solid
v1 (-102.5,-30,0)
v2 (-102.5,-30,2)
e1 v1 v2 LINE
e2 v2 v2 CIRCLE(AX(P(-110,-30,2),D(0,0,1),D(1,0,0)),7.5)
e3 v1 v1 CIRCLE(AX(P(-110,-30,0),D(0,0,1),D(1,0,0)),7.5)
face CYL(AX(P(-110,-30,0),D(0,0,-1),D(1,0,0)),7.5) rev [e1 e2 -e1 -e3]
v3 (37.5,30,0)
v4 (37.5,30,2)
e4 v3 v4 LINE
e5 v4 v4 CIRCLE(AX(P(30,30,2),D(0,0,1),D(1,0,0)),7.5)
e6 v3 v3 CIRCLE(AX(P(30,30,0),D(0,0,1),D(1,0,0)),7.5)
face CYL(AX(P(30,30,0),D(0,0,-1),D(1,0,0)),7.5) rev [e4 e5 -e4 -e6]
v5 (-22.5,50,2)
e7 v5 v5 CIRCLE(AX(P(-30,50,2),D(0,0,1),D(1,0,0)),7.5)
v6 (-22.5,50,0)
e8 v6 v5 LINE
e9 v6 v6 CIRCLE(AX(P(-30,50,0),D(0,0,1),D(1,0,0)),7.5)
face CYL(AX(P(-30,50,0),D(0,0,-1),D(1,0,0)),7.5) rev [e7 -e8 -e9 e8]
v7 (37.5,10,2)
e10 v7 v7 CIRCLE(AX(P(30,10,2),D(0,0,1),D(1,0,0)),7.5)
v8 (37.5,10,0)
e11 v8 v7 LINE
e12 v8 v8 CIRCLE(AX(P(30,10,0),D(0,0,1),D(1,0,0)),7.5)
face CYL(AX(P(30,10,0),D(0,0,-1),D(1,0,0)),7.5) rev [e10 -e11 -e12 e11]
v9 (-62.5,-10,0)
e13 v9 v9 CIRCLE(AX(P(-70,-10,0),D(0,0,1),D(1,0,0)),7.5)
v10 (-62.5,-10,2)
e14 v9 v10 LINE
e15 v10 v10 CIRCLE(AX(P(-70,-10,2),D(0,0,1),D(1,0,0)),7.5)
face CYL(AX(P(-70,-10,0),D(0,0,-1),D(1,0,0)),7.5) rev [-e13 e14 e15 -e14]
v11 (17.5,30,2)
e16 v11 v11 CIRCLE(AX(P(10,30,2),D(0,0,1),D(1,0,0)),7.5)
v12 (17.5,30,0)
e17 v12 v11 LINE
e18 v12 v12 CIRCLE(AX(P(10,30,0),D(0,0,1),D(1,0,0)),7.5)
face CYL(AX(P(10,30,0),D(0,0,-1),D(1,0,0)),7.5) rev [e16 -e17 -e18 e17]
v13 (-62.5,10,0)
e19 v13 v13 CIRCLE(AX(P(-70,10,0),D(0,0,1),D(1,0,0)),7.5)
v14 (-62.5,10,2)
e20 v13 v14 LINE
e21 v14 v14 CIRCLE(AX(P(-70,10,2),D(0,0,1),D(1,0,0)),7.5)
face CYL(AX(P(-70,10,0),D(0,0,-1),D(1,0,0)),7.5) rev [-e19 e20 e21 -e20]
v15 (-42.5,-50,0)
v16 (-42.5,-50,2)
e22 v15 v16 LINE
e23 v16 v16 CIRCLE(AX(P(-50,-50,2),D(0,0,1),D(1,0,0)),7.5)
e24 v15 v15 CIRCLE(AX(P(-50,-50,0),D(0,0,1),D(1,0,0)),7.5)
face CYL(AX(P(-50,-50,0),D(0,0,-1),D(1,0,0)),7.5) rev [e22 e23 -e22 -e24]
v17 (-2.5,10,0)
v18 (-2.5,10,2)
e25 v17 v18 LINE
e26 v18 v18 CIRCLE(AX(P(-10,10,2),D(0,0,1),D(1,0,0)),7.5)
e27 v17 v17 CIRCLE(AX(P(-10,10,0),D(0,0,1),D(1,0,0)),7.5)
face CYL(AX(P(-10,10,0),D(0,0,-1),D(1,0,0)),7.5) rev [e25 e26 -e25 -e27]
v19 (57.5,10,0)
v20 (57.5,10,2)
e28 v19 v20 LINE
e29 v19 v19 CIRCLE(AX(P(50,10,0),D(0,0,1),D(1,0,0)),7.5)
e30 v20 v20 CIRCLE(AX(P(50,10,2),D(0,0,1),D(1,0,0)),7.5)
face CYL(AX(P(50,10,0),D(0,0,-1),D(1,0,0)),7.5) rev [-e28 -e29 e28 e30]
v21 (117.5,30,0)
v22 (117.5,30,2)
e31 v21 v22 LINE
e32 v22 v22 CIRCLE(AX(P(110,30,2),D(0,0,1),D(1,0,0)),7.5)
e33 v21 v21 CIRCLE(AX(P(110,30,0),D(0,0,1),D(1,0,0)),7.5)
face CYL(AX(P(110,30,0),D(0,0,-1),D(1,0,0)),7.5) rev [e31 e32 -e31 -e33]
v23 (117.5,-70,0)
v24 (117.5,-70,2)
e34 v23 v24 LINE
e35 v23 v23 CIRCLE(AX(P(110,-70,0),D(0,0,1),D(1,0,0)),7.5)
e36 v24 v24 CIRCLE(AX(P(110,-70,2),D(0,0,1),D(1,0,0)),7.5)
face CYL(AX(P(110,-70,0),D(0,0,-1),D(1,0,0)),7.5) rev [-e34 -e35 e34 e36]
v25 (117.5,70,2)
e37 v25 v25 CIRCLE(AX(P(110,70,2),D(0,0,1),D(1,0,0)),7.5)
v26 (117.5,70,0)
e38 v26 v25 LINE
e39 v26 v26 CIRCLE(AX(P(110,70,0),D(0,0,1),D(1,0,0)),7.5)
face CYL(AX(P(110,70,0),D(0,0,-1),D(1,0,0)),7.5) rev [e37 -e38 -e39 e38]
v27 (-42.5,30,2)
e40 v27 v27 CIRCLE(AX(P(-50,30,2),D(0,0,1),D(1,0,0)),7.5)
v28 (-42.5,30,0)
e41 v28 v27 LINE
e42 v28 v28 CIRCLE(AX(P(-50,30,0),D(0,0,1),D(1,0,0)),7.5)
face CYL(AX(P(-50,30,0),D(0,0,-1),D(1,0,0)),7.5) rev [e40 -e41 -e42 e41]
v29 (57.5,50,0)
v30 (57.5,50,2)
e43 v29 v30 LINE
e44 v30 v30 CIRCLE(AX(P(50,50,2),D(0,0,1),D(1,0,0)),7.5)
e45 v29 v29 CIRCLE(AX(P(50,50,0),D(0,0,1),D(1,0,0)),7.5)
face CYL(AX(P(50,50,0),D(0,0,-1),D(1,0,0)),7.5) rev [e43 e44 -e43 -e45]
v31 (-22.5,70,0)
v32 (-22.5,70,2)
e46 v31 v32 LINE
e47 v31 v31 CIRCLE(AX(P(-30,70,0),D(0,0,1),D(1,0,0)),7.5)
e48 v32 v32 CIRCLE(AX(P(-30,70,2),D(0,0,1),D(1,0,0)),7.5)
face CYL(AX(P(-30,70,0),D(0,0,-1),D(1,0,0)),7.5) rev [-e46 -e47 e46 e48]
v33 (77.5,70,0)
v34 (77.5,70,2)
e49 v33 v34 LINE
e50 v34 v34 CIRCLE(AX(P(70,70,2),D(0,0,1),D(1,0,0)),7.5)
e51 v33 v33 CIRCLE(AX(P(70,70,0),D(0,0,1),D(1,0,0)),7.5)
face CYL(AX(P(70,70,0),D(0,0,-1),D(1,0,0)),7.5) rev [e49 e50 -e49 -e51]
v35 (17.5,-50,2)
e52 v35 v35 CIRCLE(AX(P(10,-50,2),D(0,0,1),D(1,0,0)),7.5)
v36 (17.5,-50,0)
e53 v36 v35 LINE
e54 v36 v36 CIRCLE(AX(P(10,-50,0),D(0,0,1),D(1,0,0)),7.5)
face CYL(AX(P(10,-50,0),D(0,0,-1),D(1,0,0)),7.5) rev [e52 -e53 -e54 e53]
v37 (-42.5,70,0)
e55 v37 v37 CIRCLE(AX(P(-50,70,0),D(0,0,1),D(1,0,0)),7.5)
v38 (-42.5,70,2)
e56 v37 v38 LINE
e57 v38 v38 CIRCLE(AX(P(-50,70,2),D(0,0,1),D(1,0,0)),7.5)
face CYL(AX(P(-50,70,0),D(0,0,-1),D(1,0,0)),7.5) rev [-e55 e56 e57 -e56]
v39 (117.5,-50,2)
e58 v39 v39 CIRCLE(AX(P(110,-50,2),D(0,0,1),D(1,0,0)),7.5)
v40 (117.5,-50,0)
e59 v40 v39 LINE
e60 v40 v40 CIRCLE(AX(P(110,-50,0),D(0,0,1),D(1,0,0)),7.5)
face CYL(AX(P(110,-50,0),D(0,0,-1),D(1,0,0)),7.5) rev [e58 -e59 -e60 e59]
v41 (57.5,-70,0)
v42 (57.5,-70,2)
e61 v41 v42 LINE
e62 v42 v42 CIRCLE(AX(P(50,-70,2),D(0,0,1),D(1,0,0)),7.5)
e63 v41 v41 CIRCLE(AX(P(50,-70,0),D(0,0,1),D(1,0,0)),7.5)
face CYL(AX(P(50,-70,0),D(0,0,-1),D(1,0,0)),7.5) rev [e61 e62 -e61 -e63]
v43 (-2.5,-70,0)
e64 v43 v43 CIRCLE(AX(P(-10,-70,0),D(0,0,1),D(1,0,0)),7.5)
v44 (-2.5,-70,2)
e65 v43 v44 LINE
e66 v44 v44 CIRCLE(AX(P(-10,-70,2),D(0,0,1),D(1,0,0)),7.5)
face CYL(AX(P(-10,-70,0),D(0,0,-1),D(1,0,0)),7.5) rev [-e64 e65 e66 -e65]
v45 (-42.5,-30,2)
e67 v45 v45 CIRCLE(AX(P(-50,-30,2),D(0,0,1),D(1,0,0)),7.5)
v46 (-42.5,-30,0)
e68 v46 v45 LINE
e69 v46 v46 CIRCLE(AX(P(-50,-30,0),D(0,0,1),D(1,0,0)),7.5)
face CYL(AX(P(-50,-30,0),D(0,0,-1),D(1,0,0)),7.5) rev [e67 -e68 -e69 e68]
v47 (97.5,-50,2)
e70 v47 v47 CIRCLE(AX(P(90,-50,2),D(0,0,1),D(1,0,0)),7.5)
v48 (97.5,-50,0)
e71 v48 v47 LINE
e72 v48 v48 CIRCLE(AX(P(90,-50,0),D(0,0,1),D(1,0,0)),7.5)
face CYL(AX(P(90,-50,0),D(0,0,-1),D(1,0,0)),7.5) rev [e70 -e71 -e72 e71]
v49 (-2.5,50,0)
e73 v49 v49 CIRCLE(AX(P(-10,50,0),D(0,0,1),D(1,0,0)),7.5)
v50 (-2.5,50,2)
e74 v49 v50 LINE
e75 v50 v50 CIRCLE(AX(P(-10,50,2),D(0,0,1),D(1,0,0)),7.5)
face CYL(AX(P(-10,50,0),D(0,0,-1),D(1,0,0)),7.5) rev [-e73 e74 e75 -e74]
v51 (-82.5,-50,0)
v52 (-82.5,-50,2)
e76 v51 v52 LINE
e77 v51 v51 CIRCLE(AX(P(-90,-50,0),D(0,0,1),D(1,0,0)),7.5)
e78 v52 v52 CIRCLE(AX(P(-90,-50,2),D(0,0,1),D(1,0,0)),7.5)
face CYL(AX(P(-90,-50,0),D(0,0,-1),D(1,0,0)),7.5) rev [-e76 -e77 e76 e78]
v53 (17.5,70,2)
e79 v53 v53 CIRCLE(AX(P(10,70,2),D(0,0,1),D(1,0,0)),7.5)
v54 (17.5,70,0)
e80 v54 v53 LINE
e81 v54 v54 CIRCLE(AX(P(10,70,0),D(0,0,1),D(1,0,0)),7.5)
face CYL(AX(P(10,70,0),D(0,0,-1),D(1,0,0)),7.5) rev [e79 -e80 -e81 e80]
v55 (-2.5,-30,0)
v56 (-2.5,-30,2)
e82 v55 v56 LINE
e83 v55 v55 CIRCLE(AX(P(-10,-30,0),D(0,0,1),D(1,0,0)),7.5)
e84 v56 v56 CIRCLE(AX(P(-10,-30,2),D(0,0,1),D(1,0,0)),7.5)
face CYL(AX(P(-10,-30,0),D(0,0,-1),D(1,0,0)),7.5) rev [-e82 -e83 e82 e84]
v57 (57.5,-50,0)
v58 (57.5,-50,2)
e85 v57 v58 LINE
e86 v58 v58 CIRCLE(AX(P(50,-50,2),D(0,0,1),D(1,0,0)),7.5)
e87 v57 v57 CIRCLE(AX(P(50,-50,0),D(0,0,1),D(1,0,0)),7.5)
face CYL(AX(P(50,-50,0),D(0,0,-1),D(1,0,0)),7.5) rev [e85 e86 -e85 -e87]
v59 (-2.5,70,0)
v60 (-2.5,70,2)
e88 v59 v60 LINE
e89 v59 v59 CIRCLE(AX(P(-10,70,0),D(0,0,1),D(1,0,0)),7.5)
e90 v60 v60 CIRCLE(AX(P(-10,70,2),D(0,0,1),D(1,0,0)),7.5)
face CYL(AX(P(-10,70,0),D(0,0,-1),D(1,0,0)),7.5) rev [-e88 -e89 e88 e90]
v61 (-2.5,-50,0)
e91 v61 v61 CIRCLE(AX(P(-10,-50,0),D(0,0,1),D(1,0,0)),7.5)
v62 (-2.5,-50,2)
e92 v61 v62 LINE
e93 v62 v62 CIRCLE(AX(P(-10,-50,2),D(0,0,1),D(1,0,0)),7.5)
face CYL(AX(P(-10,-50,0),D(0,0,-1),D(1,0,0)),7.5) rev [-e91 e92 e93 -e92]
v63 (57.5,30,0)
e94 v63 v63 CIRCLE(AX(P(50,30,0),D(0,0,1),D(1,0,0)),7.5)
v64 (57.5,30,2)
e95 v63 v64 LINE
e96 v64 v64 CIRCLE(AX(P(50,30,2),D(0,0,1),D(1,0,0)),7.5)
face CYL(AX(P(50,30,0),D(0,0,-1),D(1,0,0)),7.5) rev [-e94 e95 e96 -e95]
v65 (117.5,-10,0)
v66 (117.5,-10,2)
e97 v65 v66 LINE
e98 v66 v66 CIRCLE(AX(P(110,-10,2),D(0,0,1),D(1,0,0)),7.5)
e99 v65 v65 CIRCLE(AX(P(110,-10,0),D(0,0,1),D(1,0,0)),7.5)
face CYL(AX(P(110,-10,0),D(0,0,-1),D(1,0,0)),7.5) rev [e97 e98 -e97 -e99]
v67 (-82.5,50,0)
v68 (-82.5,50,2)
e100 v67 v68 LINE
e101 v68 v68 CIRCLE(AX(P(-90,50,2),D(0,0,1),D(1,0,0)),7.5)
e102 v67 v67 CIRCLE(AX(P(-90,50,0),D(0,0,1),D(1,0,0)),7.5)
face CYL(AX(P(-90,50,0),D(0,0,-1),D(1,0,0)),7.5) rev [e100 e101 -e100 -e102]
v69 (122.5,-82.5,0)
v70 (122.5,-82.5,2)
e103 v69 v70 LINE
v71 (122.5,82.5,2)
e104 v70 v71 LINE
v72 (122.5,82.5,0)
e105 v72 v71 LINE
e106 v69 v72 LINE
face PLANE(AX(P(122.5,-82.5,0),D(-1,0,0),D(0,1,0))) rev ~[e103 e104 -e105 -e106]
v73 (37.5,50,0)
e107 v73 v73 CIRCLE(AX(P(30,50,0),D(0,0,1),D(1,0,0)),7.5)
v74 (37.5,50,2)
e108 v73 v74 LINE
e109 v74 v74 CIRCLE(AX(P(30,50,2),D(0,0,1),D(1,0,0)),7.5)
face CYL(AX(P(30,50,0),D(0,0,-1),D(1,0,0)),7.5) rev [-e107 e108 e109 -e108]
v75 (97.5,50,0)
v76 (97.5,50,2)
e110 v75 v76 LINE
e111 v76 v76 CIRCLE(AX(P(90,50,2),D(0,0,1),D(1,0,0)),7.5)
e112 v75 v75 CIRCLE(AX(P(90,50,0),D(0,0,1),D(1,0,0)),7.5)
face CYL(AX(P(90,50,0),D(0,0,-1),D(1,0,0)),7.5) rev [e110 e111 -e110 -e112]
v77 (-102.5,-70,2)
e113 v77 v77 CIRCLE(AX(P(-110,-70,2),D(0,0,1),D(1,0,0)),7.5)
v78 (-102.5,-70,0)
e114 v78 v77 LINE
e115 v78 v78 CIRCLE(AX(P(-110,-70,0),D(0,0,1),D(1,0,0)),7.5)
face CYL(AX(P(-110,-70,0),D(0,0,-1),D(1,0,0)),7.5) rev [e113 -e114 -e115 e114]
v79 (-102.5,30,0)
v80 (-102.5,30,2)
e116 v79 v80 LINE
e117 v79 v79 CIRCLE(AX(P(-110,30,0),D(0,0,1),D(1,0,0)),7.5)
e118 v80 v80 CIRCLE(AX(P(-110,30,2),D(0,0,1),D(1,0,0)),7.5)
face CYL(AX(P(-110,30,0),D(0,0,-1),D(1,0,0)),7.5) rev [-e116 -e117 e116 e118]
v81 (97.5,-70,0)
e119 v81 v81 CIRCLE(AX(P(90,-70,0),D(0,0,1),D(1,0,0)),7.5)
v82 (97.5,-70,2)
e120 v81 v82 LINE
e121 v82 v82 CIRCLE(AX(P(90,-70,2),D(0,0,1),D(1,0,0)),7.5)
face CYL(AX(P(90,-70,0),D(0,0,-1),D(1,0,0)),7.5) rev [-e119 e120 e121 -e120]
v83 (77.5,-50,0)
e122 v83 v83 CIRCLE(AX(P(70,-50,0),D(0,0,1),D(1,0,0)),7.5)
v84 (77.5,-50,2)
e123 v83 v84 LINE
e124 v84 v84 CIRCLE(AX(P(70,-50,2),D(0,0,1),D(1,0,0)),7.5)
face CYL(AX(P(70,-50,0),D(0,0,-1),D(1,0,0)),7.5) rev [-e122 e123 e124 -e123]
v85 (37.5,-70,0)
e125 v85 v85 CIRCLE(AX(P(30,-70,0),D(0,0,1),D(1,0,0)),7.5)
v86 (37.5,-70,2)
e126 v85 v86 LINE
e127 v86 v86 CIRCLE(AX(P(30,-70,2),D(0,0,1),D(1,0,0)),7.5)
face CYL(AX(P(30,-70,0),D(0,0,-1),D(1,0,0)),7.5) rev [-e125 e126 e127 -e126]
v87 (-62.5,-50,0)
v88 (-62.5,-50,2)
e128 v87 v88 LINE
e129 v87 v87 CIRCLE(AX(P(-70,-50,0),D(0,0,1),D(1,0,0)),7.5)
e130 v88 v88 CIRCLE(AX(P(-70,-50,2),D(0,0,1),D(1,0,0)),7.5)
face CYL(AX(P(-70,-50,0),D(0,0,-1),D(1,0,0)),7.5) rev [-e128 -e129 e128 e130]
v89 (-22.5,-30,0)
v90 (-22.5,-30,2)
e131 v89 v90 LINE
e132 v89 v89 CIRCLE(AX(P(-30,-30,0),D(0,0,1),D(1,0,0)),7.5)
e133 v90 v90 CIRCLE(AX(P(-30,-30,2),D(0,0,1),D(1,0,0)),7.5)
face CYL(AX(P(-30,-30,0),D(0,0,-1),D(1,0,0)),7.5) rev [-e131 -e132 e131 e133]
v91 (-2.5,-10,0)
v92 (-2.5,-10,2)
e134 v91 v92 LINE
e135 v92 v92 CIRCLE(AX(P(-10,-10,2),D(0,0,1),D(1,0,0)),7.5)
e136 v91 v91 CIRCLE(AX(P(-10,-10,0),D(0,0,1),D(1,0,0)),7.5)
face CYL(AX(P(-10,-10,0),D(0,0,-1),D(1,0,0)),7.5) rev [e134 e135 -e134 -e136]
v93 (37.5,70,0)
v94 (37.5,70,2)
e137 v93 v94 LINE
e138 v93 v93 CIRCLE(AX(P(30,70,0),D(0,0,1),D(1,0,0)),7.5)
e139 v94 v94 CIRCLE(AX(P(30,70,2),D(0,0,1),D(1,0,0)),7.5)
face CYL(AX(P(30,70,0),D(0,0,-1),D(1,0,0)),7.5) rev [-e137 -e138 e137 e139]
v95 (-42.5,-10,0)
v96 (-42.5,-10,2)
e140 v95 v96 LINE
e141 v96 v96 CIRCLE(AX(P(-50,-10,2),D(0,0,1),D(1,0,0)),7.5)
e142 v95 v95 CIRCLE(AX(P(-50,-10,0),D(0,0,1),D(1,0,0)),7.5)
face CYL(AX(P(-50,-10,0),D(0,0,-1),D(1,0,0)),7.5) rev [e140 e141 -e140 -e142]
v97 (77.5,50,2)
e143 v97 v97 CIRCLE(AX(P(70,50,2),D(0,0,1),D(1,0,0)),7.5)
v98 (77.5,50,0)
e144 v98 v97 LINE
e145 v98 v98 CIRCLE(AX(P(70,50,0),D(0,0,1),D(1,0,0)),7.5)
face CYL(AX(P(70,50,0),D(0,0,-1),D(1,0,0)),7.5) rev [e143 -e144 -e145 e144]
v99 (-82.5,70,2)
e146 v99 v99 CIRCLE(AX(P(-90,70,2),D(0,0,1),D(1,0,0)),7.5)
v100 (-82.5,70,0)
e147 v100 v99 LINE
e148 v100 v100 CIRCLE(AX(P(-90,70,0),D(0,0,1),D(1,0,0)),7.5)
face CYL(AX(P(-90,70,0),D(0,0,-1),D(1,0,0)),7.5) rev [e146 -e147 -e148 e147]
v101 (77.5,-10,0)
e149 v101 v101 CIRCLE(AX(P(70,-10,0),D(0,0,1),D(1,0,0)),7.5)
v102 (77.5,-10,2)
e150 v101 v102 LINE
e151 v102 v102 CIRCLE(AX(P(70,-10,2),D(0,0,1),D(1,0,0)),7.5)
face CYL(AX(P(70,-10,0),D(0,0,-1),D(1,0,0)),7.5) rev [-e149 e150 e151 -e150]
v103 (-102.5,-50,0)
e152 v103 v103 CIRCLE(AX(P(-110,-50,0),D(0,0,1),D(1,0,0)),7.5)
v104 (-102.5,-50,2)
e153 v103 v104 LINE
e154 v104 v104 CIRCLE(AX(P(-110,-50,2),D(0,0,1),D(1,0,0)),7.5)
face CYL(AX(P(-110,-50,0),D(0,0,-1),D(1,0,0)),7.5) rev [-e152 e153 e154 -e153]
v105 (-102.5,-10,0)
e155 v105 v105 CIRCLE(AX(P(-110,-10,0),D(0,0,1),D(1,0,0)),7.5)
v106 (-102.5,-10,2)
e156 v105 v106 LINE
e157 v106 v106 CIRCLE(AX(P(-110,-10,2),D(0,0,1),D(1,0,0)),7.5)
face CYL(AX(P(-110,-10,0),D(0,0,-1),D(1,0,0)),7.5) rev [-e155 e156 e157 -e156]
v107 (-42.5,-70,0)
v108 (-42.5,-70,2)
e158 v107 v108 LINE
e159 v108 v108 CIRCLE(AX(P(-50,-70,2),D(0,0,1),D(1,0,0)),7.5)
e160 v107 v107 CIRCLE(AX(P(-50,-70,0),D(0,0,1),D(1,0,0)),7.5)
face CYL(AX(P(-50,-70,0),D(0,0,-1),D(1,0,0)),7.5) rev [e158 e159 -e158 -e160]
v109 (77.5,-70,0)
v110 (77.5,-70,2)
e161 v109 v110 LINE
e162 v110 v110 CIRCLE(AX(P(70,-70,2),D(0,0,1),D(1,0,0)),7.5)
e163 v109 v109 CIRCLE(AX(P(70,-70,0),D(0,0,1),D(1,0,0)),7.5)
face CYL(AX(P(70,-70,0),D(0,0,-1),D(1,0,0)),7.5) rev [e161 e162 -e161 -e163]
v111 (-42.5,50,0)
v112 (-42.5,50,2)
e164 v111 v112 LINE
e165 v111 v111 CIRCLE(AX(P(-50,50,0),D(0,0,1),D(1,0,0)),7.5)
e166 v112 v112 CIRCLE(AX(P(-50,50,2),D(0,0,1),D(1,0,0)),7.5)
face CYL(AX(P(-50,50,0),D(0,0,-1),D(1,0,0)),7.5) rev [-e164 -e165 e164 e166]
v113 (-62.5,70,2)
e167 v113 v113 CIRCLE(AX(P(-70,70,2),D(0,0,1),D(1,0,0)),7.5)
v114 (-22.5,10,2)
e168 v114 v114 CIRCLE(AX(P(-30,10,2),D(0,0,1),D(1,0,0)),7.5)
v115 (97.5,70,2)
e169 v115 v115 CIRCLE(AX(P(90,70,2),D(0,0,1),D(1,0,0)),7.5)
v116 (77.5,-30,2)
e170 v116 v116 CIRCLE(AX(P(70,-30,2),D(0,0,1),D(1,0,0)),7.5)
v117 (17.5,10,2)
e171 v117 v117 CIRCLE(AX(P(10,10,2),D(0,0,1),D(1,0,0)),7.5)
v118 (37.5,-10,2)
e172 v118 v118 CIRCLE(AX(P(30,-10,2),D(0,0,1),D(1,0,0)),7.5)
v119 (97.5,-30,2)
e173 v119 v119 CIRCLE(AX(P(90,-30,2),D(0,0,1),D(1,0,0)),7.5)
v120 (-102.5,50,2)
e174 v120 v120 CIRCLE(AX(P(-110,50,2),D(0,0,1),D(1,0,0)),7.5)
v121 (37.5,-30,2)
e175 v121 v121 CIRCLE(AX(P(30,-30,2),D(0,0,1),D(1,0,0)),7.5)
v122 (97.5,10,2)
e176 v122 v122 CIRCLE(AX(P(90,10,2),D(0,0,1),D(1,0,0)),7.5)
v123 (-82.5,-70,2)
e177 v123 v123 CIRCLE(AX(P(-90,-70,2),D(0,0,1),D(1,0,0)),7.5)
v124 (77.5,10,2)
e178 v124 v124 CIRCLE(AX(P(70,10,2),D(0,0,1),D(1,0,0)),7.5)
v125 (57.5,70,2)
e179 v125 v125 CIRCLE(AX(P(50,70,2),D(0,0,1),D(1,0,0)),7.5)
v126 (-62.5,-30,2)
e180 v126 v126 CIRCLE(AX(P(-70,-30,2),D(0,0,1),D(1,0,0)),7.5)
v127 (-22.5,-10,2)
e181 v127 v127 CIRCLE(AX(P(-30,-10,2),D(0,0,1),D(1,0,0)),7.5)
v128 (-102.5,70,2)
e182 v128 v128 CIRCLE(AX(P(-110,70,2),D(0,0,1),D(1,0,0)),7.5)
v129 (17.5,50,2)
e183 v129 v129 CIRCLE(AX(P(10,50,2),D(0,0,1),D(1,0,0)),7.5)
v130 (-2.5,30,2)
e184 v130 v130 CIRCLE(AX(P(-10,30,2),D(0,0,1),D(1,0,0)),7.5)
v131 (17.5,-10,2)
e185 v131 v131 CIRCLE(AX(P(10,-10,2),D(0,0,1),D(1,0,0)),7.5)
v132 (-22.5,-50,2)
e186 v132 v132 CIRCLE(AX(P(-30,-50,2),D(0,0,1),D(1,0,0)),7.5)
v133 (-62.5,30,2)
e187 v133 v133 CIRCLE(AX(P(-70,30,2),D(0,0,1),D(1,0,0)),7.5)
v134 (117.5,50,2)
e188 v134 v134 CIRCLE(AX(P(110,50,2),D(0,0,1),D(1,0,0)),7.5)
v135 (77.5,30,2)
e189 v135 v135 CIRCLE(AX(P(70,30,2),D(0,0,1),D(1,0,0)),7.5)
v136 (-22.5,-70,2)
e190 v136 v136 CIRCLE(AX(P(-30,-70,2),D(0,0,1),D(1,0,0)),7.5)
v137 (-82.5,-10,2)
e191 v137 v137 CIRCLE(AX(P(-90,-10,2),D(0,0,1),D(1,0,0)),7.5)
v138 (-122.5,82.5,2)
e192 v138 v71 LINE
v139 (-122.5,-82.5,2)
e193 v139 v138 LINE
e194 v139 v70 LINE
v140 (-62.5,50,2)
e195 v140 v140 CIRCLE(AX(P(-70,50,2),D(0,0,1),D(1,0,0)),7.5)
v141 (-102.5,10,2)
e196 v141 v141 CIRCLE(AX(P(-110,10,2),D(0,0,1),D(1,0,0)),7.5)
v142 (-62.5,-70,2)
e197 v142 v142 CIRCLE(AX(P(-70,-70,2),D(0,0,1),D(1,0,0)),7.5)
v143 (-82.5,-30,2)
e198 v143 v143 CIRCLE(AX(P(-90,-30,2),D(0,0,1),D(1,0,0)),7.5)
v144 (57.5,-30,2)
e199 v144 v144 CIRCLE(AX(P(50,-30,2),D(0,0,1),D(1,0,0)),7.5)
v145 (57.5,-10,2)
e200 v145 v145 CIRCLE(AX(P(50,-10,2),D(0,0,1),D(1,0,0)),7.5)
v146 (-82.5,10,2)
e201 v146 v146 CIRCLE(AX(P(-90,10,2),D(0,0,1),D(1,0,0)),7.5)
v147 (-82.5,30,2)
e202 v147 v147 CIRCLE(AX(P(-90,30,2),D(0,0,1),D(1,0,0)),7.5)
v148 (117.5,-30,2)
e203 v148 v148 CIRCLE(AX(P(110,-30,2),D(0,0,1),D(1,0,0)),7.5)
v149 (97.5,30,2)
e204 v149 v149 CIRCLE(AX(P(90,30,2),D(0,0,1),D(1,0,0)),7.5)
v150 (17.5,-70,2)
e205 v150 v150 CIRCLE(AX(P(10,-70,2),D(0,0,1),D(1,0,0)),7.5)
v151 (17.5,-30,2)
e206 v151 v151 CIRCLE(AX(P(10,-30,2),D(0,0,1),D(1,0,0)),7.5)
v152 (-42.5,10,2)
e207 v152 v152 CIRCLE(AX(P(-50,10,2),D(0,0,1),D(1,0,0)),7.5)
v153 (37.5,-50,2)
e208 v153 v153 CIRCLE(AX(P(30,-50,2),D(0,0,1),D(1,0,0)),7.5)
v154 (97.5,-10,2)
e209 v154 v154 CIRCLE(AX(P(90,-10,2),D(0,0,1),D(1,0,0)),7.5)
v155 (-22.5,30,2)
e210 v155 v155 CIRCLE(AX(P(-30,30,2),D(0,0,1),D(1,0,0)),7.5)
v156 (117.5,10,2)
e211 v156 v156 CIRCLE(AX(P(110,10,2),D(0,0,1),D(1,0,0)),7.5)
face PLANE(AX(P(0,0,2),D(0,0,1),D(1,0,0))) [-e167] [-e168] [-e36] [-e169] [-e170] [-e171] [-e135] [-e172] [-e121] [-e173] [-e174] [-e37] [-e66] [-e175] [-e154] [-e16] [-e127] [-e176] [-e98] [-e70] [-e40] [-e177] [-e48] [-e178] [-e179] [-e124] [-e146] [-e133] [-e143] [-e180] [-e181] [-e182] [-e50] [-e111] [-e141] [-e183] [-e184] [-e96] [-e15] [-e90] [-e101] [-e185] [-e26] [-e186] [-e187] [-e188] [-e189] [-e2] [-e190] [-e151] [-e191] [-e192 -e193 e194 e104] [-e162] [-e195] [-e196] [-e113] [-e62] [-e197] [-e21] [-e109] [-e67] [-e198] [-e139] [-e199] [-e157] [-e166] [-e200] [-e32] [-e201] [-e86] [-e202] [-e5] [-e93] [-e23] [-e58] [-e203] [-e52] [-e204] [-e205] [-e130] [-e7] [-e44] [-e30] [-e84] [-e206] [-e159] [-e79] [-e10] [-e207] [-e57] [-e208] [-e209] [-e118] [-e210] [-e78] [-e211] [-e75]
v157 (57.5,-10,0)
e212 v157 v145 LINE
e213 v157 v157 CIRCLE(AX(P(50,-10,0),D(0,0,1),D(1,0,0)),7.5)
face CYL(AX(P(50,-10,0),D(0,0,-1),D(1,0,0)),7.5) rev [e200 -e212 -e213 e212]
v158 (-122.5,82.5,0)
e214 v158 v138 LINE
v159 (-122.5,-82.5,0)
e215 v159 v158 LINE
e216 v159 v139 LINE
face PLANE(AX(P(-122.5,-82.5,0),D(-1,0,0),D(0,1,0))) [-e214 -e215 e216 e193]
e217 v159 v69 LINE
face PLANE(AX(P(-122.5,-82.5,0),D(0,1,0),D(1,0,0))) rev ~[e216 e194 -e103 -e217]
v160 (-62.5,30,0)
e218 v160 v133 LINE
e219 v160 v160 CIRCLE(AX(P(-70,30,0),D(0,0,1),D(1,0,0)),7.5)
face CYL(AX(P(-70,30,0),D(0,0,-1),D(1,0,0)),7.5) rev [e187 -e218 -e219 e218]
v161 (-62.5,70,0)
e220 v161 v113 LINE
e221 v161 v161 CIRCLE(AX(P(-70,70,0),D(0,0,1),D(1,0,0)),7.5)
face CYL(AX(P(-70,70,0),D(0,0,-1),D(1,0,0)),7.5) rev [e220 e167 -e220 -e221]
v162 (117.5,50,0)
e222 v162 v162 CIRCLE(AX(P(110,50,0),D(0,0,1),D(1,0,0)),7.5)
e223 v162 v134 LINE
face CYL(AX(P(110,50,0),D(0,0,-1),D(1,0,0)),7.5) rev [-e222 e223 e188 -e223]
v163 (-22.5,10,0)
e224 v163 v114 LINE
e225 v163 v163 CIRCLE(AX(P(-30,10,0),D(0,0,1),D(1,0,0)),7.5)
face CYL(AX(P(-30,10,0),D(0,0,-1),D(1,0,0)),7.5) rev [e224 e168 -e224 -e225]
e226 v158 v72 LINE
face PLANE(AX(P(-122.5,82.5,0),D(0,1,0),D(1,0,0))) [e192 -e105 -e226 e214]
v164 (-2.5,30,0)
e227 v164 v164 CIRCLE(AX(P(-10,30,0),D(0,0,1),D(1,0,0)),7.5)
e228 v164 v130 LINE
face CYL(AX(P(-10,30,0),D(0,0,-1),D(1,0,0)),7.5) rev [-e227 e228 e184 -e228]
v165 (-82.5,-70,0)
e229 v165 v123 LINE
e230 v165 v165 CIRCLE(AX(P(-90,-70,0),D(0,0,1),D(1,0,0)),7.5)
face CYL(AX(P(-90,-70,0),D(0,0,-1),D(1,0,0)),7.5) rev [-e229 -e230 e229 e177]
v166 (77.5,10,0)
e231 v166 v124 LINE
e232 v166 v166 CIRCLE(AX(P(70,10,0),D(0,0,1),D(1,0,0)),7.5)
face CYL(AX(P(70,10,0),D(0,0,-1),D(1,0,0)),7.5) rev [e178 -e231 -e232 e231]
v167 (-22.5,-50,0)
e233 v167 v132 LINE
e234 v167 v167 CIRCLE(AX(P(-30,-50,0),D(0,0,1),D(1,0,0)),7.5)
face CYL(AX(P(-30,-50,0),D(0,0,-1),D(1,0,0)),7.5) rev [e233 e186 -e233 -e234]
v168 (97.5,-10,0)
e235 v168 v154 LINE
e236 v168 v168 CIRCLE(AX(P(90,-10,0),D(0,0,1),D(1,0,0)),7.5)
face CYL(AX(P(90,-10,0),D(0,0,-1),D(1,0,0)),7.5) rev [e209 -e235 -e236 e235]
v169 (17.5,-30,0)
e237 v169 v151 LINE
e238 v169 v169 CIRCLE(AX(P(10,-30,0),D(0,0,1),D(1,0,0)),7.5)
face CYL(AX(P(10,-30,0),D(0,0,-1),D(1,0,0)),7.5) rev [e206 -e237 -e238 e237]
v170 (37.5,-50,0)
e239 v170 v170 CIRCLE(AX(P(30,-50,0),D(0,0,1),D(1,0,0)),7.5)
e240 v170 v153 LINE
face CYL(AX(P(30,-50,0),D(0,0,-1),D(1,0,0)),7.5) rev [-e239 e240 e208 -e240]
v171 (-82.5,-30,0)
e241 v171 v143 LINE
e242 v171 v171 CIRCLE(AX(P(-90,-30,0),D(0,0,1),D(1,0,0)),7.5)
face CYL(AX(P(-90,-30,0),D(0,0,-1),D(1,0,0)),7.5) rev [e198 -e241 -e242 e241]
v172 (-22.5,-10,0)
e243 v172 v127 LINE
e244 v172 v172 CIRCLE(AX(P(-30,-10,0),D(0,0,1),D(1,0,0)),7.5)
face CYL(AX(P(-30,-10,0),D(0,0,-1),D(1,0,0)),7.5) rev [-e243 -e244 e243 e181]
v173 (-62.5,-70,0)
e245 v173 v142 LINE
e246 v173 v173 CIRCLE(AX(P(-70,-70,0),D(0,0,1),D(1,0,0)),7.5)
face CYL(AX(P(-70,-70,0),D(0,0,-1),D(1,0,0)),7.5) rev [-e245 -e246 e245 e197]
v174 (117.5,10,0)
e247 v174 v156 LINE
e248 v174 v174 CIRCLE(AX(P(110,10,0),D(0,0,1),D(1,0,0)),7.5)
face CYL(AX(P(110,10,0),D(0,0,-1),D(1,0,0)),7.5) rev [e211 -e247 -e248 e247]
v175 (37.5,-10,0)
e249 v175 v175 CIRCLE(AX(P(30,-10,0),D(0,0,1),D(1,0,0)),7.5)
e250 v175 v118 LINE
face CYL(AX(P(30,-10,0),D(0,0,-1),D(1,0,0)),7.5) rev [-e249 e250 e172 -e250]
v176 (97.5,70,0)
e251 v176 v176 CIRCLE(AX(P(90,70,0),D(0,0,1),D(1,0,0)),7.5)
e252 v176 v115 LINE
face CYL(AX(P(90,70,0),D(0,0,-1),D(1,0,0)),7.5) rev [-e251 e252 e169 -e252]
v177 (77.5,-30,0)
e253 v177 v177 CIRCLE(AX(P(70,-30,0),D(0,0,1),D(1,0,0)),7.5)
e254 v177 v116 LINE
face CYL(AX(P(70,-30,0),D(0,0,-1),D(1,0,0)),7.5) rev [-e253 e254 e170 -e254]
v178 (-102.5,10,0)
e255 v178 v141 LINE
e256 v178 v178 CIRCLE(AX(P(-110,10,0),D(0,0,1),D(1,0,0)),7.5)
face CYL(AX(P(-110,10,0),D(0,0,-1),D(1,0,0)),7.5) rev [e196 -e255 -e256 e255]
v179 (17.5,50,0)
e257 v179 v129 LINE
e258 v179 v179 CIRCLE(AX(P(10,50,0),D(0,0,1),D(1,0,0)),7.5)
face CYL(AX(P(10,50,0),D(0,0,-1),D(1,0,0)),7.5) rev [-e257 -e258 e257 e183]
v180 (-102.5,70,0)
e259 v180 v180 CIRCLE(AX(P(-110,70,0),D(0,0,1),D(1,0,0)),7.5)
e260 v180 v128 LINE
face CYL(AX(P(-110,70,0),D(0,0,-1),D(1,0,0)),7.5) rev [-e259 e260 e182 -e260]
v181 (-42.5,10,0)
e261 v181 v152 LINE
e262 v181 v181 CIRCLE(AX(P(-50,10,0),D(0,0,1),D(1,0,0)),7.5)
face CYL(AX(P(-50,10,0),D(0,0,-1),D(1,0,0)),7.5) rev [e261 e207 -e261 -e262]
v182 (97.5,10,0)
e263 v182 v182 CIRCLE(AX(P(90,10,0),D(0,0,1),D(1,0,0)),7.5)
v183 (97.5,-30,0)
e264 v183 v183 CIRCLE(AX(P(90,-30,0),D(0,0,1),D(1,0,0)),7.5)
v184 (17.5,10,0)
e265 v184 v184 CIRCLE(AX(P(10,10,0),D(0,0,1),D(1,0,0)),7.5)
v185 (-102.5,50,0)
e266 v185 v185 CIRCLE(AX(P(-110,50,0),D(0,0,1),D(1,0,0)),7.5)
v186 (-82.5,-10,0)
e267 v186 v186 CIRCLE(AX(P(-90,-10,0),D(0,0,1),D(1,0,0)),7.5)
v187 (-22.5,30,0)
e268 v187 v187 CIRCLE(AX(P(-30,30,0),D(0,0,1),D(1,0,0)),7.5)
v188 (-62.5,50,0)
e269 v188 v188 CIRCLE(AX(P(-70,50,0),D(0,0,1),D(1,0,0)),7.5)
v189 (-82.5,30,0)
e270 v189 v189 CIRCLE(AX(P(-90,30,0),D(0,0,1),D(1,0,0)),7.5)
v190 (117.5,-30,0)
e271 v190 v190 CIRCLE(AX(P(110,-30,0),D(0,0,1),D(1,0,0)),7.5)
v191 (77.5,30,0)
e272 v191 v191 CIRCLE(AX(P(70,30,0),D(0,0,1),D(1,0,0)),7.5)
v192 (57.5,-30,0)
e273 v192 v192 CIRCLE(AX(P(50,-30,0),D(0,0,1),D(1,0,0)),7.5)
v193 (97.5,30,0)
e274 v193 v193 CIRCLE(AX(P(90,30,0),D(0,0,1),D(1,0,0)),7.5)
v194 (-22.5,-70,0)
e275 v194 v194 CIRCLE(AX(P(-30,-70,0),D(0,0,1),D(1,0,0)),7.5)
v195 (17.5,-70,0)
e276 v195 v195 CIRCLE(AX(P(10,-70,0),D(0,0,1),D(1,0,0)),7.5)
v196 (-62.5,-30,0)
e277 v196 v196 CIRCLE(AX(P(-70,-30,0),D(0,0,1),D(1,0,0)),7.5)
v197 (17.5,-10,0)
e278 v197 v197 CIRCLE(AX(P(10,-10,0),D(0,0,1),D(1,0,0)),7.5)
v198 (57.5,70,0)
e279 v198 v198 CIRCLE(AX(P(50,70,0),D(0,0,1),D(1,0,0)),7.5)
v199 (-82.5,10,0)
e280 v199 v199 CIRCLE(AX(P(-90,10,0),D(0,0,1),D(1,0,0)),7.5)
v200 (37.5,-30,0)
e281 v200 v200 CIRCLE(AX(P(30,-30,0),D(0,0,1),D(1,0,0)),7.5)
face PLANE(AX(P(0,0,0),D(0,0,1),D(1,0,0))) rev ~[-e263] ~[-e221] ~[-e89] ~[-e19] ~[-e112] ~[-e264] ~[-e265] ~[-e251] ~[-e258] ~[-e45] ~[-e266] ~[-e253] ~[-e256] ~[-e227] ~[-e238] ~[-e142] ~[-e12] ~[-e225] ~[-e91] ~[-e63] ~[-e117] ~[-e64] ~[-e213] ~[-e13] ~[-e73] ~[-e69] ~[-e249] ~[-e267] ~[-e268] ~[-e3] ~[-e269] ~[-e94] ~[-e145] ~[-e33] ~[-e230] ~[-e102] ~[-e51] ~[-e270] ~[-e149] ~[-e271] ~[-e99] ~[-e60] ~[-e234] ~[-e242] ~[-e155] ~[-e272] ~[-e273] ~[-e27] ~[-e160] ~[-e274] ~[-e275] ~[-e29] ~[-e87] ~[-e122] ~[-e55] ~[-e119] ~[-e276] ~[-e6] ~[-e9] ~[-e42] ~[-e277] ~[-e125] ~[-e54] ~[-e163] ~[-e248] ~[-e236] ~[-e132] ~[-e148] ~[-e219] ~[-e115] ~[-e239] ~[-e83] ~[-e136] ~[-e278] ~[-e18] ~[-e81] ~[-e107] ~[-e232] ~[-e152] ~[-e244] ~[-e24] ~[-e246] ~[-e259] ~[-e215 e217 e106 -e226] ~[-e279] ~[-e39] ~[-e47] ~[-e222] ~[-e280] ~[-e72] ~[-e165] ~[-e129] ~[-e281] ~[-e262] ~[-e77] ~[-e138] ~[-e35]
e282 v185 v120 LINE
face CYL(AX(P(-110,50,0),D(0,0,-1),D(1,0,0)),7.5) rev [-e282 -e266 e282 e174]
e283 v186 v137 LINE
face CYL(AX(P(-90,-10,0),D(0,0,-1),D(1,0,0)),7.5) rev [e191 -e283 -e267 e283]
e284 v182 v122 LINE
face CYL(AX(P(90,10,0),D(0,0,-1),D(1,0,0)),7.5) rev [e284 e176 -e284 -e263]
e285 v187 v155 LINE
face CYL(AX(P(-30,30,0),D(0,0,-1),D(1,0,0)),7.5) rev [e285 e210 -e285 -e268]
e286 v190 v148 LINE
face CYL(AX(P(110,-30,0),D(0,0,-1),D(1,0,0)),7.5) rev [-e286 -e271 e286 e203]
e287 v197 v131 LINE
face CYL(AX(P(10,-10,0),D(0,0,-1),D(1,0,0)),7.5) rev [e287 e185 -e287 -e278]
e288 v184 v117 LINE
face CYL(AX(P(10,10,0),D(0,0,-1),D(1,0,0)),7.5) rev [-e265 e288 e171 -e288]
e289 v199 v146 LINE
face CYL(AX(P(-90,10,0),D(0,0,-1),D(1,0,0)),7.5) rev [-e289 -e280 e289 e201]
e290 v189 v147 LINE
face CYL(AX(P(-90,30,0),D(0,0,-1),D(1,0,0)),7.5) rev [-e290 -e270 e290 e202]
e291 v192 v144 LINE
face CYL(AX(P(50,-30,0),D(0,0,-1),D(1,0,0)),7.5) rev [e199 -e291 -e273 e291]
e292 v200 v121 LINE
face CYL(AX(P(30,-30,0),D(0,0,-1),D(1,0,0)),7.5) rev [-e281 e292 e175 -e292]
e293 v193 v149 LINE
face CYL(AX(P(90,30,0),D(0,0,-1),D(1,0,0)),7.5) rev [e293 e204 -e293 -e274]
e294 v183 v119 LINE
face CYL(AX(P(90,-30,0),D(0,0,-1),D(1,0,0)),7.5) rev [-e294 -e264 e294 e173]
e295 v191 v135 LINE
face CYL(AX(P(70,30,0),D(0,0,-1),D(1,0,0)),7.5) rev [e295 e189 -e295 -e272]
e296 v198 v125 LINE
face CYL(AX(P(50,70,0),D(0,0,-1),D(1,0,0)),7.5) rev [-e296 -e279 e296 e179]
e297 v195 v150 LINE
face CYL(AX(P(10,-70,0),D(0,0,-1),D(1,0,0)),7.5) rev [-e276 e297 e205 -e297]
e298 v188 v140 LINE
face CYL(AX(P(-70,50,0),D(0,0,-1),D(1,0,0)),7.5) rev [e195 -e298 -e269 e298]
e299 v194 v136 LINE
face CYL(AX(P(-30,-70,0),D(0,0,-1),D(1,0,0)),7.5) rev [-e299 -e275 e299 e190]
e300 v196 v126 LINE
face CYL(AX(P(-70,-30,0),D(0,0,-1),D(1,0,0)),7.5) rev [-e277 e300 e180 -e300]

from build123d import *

# Parameters (mm, degrees)
F0_W     = 245
F0_H     = 165
F0_R     = 7.5
F1_DEPTH = 2


with BuildPart() as f1:
    # F0 (on Top) → F1 (new body)
    with BuildSketch(Plane.XY):
        Rectangle(F0_W, F0_H)
        with Locations((-110, -70)):
            Circle(F0_R, mode=Mode.SUBTRACT)
        with Locations((-90, -70)):
            Circle(F0_R, mode=Mode.SUBTRACT)
        with Locations((-70, -70)):
            Circle(F0_R, mode=Mode.SUBTRACT)
        with Locations((-110, -50)):
            Circle(F0_R, mode=Mode.SUBTRACT)
        with Locations((-90, -50)):
            Circle(F0_R, mode=Mode.SUBTRACT)
        with Locations((-70, -50)):
            Circle(F0_R, mode=Mode.SUBTRACT)
        with Locations((-50, -70)):
            Circle(F0_R, mode=Mode.SUBTRACT)
        with Locations((-30, -70)):
            Circle(F0_R, mode=Mode.SUBTRACT)
        with Locations((-10, -70)):
            Circle(F0_R, mode=Mode.SUBTRACT)
        with Locations((-50, -50)):
            Circle(F0_R, mode=Mode.SUBTRACT)
        with Locations((-30, -50)):
            Circle(F0_R, mode=Mode.SUBTRACT)
        with Locations((-10, -50)):
            Circle(F0_R, mode=Mode.SUBTRACT)
        with Locations((-110, -30)):
            Circle(F0_R, mode=Mode.SUBTRACT)
        with Locations((-90, -30)):
            Circle(F0_R, mode=Mode.SUBTRACT)
        with Locations((-70, -30)):
            Circle(F0_R, mode=Mode.SUBTRACT)
        with Locations((-110, -10)):
            Circle(F0_R, mode=Mode.SUBTRACT)
        with Locations((-90, -10)):
            Circle(F0_R, mode=Mode.SUBTRACT)
        with Locations((-70, -10)):
            Circle(F0_R, mode=Mode.SUBTRACT)
        with Locations((-50, -30)):
            Circle(F0_R, mode=Mode.SUBTRACT)
        with Locations((-30, -30)):
            Circle(F0_R, mode=Mode.SUBTRACT)
        with Locations((-10, -30)):
            Circle(F0_R, mode=Mode.SUBTRACT)
        with Locations((-50, -10)):
            Circle(F0_R, mode=Mode.SUBTRACT)
        with Locations((-30, -10)):
            Circle(F0_R, mode=Mode.SUBTRACT)
        with Locations((-10, -10)):
            Circle(F0_R, mode=Mode.SUBTRACT)
        with Locations((10, -70)):
            Circle(F0_R, mode=Mode.SUBTRACT)
        with Locations((30, -70)):
            Circle(F0_R, mode=Mode.SUBTRACT)
        with Locations((50, -70)):
            Circle(F0_R, mode=Mode.SUBTRACT)
        with Locations((10, -50)):
            Circle(F0_R, mode=Mode.SUBTRACT)
        with Locations((30, -50)):
            Circle(F0_R, mode=Mode.SUBTRACT)
        with Locations((50, -50)):
            Circle(F0_R, mode=Mode.SUBTRACT)
        with Locations((70, -70)):
            Circle(F0_R, mode=Mode.SUBTRACT)
        with Locations((90, -70)):
            Circle(F0_R, mode=Mode.SUBTRACT)
        with Locations((110, -70)):
            Circle(F0_R, mode=Mode.SUBTRACT)
        with Locations((70, -50)):
            Circle(F0_R, mode=Mode.SUBTRACT)
        with Locations((90, -50)):
            Circle(F0_R, mode=Mode.SUBTRACT)
        with Locations((110, -50)):
            Circle(F0_R, mode=Mode.SUBTRACT)
        with Locations((10, -30)):
            Circle(F0_R, mode=Mode.SUBTRACT)
        with Locations((30, -30)):
            Circle(F0_R, mode=Mode.SUBTRACT)
        with Locations((50, -30)):
            Circle(F0_R, mode=Mode.SUBTRACT)
        with Locations((10, -10)):
            Circle(F0_R, mode=Mode.SUBTRACT)
        with Locations((30, -10)):
            Circle(F0_R, mode=Mode.SUBTRACT)
        with Locations((50, -10)):
            Circle(F0_R, mode=Mode.SUBTRACT)
        with Locations((70, -30)):
            Circle(F0_R, mode=Mode.SUBTRACT)
        with Locations((90, -30)):
            Circle(F0_R, mode=Mode.SUBTRACT)
        with Locations((110, -30)):
            Circle(F0_R, mode=Mode.SUBTRACT)
        with Locations((70, -10)):
            Circle(F0_R, mode=Mode.SUBTRACT)
        with Locations((90, -10)):
            Circle(F0_R, mode=Mode.SUBTRACT)
        with Locations((110, -10)):
            Circle(F0_R, mode=Mode.SUBTRACT)
        with Locations((-110, 10)):
            Circle(F0_R, mode=Mode.SUBTRACT)
        with Locations((-90, 10)):
            Circle(F0_R, mode=Mode.SUBTRACT)
        with Locations((-70, 10)):
            Circle(F0_R, mode=Mode.SUBTRACT)
        with Locations((-110, 30)):
            Circle(F0_R, mode=Mode.SUBTRACT)
        with Locations((-90, 30)):
            Circle(F0_R, mode=Mode.SUBTRACT)
        with Locations((-70, 30)):
            Circle(F0_R, mode=Mode.SUBTRACT)
        with Locations((-50, 10)):
            Circle(F0_R, mode=Mode.SUBTRACT)
        with Locations((-30, 10)):
            Circle(F0_R, mode=Mode.SUBTRACT)
        with Locations((-10, 10)):
            Circle(F0_R, mode=Mode.SUBTRACT)
        with Locations((-50, 30)):
            Circle(F0_R, mode=Mode.SUBTRACT)
        with Locations((-30, 30)):
            Circle(F0_R, mode=Mode.SUBTRACT)
        with Locations((-10, 30)):
            Circle(F0_R, mode=Mode.SUBTRACT)
        with Locations((-110, 50)):
            Circle(F0_R, mode=Mode.SUBTRACT)
        with Locations((-90, 50)):
            Circle(F0_R, mode=Mode.SUBTRACT)
        with Locations((-70, 50)):
            Circle(F0_R, mode=Mode.SUBTRACT)
        with Locations((-110, 70)):
            Circle(F0_R, mode=Mode.SUBTRACT)
        with Locations((-90, 70)):
            Circle(F0_R, mode=Mode.SUBTRACT)
        with Locations((-70, 70)):
            Circle(F0_R, mode=Mode.SUBTRACT)
        with Locations((-50, 50)):
            Circle(F0_R, mode=Mode.SUBTRACT)
        with Locations((-30, 50)):
            Circle(F0_R, mode=Mode.SUBTRACT)
        with Locations((-10, 50)):
            Circle(F0_R, mode=Mode.SUBTRACT)
        with Locations((-50, 70)):
            Circle(F0_R, mode=Mode.SUBTRACT)
        with Locations((-30, 70)):
            Circle(F0_R, mode=Mode.SUBTRACT)
        with Locations((-10, 70)):
            Circle(F0_R, mode=Mode.SUBTRACT)
        with Locations((10, 10)):
            Circle(F0_R, mode=Mode.SUBTRACT)
        with Locations((30, 10)):
            Circle(F0_R, mode=Mode.SUBTRACT)
        with Locations((50, 10)):
            Circle(F0_R, mode=Mode.SUBTRACT)
        with Locations((10, 30)):
            Circle(F0_R, mode=Mode.SUBTRACT)
        with Locations((30, 30)):
            Circle(F0_R, mode=Mode.SUBTRACT)
        with Locations((50, 30)):
            Circle(F0_R, mode=Mode.SUBTRACT)
        with Locations((70, 10)):
            Circle(F0_R, mode=Mode.SUBTRACT)
        with Locations((90, 10)):
            Circle(F0_R, mode=Mode.SUBTRACT)
        with Locations((110, 10)):
            Circle(F0_R, mode=Mode.SUBTRACT)
        with Locations((70, 30)):
            Circle(F0_R, mode=Mode.SUBTRACT)
        with Locations((90, 30)):
            Circle(F0_R, mode=Mode.SUBTRACT)
        with Locations((110, 30)):
            Circle(F0_R, mode=Mode.SUBTRACT)
        with Locations((10, 50)):
            Circle(F0_R, mode=Mode.SUBTRACT)
        with Locations((30, 50)):
            Circle(F0_R, mode=Mode.SUBTRACT)
        with Locations((50, 50)):
            Circle(F0_R, mode=Mode.SUBTRACT)
        with Locations((10, 70)):
            Circle(F0_R, mode=Mode.SUBTRACT)
        with Locations((30, 70)):
            Circle(F0_R, mode=Mode.SUBTRACT)
        with Locations((50, 70)):
            Circle(F0_R, mode=Mode.SUBTRACT)
        with Locations((70, 50)):
            Circle(F0_R, mode=Mode.SUBTRACT)
        with Locations((90, 50)):
            Circle(F0_R, mode=Mode.SUBTRACT)
        with Locations((110, 50)):
            Circle(F0_R, mode=Mode.SUBTRACT)
        with Locations((70, 70)):
            Circle(F0_R, mode=Mode.SUBTRACT)
        with Locations((90, 70)):
            Circle(F0_R, mode=Mode.SUBTRACT)
        with Locations((110, 70)):
            Circle(F0_R, mode=Mode.SUBTRACT)
    extrude(amount=F1_DEPTH)


solid = f1.part
